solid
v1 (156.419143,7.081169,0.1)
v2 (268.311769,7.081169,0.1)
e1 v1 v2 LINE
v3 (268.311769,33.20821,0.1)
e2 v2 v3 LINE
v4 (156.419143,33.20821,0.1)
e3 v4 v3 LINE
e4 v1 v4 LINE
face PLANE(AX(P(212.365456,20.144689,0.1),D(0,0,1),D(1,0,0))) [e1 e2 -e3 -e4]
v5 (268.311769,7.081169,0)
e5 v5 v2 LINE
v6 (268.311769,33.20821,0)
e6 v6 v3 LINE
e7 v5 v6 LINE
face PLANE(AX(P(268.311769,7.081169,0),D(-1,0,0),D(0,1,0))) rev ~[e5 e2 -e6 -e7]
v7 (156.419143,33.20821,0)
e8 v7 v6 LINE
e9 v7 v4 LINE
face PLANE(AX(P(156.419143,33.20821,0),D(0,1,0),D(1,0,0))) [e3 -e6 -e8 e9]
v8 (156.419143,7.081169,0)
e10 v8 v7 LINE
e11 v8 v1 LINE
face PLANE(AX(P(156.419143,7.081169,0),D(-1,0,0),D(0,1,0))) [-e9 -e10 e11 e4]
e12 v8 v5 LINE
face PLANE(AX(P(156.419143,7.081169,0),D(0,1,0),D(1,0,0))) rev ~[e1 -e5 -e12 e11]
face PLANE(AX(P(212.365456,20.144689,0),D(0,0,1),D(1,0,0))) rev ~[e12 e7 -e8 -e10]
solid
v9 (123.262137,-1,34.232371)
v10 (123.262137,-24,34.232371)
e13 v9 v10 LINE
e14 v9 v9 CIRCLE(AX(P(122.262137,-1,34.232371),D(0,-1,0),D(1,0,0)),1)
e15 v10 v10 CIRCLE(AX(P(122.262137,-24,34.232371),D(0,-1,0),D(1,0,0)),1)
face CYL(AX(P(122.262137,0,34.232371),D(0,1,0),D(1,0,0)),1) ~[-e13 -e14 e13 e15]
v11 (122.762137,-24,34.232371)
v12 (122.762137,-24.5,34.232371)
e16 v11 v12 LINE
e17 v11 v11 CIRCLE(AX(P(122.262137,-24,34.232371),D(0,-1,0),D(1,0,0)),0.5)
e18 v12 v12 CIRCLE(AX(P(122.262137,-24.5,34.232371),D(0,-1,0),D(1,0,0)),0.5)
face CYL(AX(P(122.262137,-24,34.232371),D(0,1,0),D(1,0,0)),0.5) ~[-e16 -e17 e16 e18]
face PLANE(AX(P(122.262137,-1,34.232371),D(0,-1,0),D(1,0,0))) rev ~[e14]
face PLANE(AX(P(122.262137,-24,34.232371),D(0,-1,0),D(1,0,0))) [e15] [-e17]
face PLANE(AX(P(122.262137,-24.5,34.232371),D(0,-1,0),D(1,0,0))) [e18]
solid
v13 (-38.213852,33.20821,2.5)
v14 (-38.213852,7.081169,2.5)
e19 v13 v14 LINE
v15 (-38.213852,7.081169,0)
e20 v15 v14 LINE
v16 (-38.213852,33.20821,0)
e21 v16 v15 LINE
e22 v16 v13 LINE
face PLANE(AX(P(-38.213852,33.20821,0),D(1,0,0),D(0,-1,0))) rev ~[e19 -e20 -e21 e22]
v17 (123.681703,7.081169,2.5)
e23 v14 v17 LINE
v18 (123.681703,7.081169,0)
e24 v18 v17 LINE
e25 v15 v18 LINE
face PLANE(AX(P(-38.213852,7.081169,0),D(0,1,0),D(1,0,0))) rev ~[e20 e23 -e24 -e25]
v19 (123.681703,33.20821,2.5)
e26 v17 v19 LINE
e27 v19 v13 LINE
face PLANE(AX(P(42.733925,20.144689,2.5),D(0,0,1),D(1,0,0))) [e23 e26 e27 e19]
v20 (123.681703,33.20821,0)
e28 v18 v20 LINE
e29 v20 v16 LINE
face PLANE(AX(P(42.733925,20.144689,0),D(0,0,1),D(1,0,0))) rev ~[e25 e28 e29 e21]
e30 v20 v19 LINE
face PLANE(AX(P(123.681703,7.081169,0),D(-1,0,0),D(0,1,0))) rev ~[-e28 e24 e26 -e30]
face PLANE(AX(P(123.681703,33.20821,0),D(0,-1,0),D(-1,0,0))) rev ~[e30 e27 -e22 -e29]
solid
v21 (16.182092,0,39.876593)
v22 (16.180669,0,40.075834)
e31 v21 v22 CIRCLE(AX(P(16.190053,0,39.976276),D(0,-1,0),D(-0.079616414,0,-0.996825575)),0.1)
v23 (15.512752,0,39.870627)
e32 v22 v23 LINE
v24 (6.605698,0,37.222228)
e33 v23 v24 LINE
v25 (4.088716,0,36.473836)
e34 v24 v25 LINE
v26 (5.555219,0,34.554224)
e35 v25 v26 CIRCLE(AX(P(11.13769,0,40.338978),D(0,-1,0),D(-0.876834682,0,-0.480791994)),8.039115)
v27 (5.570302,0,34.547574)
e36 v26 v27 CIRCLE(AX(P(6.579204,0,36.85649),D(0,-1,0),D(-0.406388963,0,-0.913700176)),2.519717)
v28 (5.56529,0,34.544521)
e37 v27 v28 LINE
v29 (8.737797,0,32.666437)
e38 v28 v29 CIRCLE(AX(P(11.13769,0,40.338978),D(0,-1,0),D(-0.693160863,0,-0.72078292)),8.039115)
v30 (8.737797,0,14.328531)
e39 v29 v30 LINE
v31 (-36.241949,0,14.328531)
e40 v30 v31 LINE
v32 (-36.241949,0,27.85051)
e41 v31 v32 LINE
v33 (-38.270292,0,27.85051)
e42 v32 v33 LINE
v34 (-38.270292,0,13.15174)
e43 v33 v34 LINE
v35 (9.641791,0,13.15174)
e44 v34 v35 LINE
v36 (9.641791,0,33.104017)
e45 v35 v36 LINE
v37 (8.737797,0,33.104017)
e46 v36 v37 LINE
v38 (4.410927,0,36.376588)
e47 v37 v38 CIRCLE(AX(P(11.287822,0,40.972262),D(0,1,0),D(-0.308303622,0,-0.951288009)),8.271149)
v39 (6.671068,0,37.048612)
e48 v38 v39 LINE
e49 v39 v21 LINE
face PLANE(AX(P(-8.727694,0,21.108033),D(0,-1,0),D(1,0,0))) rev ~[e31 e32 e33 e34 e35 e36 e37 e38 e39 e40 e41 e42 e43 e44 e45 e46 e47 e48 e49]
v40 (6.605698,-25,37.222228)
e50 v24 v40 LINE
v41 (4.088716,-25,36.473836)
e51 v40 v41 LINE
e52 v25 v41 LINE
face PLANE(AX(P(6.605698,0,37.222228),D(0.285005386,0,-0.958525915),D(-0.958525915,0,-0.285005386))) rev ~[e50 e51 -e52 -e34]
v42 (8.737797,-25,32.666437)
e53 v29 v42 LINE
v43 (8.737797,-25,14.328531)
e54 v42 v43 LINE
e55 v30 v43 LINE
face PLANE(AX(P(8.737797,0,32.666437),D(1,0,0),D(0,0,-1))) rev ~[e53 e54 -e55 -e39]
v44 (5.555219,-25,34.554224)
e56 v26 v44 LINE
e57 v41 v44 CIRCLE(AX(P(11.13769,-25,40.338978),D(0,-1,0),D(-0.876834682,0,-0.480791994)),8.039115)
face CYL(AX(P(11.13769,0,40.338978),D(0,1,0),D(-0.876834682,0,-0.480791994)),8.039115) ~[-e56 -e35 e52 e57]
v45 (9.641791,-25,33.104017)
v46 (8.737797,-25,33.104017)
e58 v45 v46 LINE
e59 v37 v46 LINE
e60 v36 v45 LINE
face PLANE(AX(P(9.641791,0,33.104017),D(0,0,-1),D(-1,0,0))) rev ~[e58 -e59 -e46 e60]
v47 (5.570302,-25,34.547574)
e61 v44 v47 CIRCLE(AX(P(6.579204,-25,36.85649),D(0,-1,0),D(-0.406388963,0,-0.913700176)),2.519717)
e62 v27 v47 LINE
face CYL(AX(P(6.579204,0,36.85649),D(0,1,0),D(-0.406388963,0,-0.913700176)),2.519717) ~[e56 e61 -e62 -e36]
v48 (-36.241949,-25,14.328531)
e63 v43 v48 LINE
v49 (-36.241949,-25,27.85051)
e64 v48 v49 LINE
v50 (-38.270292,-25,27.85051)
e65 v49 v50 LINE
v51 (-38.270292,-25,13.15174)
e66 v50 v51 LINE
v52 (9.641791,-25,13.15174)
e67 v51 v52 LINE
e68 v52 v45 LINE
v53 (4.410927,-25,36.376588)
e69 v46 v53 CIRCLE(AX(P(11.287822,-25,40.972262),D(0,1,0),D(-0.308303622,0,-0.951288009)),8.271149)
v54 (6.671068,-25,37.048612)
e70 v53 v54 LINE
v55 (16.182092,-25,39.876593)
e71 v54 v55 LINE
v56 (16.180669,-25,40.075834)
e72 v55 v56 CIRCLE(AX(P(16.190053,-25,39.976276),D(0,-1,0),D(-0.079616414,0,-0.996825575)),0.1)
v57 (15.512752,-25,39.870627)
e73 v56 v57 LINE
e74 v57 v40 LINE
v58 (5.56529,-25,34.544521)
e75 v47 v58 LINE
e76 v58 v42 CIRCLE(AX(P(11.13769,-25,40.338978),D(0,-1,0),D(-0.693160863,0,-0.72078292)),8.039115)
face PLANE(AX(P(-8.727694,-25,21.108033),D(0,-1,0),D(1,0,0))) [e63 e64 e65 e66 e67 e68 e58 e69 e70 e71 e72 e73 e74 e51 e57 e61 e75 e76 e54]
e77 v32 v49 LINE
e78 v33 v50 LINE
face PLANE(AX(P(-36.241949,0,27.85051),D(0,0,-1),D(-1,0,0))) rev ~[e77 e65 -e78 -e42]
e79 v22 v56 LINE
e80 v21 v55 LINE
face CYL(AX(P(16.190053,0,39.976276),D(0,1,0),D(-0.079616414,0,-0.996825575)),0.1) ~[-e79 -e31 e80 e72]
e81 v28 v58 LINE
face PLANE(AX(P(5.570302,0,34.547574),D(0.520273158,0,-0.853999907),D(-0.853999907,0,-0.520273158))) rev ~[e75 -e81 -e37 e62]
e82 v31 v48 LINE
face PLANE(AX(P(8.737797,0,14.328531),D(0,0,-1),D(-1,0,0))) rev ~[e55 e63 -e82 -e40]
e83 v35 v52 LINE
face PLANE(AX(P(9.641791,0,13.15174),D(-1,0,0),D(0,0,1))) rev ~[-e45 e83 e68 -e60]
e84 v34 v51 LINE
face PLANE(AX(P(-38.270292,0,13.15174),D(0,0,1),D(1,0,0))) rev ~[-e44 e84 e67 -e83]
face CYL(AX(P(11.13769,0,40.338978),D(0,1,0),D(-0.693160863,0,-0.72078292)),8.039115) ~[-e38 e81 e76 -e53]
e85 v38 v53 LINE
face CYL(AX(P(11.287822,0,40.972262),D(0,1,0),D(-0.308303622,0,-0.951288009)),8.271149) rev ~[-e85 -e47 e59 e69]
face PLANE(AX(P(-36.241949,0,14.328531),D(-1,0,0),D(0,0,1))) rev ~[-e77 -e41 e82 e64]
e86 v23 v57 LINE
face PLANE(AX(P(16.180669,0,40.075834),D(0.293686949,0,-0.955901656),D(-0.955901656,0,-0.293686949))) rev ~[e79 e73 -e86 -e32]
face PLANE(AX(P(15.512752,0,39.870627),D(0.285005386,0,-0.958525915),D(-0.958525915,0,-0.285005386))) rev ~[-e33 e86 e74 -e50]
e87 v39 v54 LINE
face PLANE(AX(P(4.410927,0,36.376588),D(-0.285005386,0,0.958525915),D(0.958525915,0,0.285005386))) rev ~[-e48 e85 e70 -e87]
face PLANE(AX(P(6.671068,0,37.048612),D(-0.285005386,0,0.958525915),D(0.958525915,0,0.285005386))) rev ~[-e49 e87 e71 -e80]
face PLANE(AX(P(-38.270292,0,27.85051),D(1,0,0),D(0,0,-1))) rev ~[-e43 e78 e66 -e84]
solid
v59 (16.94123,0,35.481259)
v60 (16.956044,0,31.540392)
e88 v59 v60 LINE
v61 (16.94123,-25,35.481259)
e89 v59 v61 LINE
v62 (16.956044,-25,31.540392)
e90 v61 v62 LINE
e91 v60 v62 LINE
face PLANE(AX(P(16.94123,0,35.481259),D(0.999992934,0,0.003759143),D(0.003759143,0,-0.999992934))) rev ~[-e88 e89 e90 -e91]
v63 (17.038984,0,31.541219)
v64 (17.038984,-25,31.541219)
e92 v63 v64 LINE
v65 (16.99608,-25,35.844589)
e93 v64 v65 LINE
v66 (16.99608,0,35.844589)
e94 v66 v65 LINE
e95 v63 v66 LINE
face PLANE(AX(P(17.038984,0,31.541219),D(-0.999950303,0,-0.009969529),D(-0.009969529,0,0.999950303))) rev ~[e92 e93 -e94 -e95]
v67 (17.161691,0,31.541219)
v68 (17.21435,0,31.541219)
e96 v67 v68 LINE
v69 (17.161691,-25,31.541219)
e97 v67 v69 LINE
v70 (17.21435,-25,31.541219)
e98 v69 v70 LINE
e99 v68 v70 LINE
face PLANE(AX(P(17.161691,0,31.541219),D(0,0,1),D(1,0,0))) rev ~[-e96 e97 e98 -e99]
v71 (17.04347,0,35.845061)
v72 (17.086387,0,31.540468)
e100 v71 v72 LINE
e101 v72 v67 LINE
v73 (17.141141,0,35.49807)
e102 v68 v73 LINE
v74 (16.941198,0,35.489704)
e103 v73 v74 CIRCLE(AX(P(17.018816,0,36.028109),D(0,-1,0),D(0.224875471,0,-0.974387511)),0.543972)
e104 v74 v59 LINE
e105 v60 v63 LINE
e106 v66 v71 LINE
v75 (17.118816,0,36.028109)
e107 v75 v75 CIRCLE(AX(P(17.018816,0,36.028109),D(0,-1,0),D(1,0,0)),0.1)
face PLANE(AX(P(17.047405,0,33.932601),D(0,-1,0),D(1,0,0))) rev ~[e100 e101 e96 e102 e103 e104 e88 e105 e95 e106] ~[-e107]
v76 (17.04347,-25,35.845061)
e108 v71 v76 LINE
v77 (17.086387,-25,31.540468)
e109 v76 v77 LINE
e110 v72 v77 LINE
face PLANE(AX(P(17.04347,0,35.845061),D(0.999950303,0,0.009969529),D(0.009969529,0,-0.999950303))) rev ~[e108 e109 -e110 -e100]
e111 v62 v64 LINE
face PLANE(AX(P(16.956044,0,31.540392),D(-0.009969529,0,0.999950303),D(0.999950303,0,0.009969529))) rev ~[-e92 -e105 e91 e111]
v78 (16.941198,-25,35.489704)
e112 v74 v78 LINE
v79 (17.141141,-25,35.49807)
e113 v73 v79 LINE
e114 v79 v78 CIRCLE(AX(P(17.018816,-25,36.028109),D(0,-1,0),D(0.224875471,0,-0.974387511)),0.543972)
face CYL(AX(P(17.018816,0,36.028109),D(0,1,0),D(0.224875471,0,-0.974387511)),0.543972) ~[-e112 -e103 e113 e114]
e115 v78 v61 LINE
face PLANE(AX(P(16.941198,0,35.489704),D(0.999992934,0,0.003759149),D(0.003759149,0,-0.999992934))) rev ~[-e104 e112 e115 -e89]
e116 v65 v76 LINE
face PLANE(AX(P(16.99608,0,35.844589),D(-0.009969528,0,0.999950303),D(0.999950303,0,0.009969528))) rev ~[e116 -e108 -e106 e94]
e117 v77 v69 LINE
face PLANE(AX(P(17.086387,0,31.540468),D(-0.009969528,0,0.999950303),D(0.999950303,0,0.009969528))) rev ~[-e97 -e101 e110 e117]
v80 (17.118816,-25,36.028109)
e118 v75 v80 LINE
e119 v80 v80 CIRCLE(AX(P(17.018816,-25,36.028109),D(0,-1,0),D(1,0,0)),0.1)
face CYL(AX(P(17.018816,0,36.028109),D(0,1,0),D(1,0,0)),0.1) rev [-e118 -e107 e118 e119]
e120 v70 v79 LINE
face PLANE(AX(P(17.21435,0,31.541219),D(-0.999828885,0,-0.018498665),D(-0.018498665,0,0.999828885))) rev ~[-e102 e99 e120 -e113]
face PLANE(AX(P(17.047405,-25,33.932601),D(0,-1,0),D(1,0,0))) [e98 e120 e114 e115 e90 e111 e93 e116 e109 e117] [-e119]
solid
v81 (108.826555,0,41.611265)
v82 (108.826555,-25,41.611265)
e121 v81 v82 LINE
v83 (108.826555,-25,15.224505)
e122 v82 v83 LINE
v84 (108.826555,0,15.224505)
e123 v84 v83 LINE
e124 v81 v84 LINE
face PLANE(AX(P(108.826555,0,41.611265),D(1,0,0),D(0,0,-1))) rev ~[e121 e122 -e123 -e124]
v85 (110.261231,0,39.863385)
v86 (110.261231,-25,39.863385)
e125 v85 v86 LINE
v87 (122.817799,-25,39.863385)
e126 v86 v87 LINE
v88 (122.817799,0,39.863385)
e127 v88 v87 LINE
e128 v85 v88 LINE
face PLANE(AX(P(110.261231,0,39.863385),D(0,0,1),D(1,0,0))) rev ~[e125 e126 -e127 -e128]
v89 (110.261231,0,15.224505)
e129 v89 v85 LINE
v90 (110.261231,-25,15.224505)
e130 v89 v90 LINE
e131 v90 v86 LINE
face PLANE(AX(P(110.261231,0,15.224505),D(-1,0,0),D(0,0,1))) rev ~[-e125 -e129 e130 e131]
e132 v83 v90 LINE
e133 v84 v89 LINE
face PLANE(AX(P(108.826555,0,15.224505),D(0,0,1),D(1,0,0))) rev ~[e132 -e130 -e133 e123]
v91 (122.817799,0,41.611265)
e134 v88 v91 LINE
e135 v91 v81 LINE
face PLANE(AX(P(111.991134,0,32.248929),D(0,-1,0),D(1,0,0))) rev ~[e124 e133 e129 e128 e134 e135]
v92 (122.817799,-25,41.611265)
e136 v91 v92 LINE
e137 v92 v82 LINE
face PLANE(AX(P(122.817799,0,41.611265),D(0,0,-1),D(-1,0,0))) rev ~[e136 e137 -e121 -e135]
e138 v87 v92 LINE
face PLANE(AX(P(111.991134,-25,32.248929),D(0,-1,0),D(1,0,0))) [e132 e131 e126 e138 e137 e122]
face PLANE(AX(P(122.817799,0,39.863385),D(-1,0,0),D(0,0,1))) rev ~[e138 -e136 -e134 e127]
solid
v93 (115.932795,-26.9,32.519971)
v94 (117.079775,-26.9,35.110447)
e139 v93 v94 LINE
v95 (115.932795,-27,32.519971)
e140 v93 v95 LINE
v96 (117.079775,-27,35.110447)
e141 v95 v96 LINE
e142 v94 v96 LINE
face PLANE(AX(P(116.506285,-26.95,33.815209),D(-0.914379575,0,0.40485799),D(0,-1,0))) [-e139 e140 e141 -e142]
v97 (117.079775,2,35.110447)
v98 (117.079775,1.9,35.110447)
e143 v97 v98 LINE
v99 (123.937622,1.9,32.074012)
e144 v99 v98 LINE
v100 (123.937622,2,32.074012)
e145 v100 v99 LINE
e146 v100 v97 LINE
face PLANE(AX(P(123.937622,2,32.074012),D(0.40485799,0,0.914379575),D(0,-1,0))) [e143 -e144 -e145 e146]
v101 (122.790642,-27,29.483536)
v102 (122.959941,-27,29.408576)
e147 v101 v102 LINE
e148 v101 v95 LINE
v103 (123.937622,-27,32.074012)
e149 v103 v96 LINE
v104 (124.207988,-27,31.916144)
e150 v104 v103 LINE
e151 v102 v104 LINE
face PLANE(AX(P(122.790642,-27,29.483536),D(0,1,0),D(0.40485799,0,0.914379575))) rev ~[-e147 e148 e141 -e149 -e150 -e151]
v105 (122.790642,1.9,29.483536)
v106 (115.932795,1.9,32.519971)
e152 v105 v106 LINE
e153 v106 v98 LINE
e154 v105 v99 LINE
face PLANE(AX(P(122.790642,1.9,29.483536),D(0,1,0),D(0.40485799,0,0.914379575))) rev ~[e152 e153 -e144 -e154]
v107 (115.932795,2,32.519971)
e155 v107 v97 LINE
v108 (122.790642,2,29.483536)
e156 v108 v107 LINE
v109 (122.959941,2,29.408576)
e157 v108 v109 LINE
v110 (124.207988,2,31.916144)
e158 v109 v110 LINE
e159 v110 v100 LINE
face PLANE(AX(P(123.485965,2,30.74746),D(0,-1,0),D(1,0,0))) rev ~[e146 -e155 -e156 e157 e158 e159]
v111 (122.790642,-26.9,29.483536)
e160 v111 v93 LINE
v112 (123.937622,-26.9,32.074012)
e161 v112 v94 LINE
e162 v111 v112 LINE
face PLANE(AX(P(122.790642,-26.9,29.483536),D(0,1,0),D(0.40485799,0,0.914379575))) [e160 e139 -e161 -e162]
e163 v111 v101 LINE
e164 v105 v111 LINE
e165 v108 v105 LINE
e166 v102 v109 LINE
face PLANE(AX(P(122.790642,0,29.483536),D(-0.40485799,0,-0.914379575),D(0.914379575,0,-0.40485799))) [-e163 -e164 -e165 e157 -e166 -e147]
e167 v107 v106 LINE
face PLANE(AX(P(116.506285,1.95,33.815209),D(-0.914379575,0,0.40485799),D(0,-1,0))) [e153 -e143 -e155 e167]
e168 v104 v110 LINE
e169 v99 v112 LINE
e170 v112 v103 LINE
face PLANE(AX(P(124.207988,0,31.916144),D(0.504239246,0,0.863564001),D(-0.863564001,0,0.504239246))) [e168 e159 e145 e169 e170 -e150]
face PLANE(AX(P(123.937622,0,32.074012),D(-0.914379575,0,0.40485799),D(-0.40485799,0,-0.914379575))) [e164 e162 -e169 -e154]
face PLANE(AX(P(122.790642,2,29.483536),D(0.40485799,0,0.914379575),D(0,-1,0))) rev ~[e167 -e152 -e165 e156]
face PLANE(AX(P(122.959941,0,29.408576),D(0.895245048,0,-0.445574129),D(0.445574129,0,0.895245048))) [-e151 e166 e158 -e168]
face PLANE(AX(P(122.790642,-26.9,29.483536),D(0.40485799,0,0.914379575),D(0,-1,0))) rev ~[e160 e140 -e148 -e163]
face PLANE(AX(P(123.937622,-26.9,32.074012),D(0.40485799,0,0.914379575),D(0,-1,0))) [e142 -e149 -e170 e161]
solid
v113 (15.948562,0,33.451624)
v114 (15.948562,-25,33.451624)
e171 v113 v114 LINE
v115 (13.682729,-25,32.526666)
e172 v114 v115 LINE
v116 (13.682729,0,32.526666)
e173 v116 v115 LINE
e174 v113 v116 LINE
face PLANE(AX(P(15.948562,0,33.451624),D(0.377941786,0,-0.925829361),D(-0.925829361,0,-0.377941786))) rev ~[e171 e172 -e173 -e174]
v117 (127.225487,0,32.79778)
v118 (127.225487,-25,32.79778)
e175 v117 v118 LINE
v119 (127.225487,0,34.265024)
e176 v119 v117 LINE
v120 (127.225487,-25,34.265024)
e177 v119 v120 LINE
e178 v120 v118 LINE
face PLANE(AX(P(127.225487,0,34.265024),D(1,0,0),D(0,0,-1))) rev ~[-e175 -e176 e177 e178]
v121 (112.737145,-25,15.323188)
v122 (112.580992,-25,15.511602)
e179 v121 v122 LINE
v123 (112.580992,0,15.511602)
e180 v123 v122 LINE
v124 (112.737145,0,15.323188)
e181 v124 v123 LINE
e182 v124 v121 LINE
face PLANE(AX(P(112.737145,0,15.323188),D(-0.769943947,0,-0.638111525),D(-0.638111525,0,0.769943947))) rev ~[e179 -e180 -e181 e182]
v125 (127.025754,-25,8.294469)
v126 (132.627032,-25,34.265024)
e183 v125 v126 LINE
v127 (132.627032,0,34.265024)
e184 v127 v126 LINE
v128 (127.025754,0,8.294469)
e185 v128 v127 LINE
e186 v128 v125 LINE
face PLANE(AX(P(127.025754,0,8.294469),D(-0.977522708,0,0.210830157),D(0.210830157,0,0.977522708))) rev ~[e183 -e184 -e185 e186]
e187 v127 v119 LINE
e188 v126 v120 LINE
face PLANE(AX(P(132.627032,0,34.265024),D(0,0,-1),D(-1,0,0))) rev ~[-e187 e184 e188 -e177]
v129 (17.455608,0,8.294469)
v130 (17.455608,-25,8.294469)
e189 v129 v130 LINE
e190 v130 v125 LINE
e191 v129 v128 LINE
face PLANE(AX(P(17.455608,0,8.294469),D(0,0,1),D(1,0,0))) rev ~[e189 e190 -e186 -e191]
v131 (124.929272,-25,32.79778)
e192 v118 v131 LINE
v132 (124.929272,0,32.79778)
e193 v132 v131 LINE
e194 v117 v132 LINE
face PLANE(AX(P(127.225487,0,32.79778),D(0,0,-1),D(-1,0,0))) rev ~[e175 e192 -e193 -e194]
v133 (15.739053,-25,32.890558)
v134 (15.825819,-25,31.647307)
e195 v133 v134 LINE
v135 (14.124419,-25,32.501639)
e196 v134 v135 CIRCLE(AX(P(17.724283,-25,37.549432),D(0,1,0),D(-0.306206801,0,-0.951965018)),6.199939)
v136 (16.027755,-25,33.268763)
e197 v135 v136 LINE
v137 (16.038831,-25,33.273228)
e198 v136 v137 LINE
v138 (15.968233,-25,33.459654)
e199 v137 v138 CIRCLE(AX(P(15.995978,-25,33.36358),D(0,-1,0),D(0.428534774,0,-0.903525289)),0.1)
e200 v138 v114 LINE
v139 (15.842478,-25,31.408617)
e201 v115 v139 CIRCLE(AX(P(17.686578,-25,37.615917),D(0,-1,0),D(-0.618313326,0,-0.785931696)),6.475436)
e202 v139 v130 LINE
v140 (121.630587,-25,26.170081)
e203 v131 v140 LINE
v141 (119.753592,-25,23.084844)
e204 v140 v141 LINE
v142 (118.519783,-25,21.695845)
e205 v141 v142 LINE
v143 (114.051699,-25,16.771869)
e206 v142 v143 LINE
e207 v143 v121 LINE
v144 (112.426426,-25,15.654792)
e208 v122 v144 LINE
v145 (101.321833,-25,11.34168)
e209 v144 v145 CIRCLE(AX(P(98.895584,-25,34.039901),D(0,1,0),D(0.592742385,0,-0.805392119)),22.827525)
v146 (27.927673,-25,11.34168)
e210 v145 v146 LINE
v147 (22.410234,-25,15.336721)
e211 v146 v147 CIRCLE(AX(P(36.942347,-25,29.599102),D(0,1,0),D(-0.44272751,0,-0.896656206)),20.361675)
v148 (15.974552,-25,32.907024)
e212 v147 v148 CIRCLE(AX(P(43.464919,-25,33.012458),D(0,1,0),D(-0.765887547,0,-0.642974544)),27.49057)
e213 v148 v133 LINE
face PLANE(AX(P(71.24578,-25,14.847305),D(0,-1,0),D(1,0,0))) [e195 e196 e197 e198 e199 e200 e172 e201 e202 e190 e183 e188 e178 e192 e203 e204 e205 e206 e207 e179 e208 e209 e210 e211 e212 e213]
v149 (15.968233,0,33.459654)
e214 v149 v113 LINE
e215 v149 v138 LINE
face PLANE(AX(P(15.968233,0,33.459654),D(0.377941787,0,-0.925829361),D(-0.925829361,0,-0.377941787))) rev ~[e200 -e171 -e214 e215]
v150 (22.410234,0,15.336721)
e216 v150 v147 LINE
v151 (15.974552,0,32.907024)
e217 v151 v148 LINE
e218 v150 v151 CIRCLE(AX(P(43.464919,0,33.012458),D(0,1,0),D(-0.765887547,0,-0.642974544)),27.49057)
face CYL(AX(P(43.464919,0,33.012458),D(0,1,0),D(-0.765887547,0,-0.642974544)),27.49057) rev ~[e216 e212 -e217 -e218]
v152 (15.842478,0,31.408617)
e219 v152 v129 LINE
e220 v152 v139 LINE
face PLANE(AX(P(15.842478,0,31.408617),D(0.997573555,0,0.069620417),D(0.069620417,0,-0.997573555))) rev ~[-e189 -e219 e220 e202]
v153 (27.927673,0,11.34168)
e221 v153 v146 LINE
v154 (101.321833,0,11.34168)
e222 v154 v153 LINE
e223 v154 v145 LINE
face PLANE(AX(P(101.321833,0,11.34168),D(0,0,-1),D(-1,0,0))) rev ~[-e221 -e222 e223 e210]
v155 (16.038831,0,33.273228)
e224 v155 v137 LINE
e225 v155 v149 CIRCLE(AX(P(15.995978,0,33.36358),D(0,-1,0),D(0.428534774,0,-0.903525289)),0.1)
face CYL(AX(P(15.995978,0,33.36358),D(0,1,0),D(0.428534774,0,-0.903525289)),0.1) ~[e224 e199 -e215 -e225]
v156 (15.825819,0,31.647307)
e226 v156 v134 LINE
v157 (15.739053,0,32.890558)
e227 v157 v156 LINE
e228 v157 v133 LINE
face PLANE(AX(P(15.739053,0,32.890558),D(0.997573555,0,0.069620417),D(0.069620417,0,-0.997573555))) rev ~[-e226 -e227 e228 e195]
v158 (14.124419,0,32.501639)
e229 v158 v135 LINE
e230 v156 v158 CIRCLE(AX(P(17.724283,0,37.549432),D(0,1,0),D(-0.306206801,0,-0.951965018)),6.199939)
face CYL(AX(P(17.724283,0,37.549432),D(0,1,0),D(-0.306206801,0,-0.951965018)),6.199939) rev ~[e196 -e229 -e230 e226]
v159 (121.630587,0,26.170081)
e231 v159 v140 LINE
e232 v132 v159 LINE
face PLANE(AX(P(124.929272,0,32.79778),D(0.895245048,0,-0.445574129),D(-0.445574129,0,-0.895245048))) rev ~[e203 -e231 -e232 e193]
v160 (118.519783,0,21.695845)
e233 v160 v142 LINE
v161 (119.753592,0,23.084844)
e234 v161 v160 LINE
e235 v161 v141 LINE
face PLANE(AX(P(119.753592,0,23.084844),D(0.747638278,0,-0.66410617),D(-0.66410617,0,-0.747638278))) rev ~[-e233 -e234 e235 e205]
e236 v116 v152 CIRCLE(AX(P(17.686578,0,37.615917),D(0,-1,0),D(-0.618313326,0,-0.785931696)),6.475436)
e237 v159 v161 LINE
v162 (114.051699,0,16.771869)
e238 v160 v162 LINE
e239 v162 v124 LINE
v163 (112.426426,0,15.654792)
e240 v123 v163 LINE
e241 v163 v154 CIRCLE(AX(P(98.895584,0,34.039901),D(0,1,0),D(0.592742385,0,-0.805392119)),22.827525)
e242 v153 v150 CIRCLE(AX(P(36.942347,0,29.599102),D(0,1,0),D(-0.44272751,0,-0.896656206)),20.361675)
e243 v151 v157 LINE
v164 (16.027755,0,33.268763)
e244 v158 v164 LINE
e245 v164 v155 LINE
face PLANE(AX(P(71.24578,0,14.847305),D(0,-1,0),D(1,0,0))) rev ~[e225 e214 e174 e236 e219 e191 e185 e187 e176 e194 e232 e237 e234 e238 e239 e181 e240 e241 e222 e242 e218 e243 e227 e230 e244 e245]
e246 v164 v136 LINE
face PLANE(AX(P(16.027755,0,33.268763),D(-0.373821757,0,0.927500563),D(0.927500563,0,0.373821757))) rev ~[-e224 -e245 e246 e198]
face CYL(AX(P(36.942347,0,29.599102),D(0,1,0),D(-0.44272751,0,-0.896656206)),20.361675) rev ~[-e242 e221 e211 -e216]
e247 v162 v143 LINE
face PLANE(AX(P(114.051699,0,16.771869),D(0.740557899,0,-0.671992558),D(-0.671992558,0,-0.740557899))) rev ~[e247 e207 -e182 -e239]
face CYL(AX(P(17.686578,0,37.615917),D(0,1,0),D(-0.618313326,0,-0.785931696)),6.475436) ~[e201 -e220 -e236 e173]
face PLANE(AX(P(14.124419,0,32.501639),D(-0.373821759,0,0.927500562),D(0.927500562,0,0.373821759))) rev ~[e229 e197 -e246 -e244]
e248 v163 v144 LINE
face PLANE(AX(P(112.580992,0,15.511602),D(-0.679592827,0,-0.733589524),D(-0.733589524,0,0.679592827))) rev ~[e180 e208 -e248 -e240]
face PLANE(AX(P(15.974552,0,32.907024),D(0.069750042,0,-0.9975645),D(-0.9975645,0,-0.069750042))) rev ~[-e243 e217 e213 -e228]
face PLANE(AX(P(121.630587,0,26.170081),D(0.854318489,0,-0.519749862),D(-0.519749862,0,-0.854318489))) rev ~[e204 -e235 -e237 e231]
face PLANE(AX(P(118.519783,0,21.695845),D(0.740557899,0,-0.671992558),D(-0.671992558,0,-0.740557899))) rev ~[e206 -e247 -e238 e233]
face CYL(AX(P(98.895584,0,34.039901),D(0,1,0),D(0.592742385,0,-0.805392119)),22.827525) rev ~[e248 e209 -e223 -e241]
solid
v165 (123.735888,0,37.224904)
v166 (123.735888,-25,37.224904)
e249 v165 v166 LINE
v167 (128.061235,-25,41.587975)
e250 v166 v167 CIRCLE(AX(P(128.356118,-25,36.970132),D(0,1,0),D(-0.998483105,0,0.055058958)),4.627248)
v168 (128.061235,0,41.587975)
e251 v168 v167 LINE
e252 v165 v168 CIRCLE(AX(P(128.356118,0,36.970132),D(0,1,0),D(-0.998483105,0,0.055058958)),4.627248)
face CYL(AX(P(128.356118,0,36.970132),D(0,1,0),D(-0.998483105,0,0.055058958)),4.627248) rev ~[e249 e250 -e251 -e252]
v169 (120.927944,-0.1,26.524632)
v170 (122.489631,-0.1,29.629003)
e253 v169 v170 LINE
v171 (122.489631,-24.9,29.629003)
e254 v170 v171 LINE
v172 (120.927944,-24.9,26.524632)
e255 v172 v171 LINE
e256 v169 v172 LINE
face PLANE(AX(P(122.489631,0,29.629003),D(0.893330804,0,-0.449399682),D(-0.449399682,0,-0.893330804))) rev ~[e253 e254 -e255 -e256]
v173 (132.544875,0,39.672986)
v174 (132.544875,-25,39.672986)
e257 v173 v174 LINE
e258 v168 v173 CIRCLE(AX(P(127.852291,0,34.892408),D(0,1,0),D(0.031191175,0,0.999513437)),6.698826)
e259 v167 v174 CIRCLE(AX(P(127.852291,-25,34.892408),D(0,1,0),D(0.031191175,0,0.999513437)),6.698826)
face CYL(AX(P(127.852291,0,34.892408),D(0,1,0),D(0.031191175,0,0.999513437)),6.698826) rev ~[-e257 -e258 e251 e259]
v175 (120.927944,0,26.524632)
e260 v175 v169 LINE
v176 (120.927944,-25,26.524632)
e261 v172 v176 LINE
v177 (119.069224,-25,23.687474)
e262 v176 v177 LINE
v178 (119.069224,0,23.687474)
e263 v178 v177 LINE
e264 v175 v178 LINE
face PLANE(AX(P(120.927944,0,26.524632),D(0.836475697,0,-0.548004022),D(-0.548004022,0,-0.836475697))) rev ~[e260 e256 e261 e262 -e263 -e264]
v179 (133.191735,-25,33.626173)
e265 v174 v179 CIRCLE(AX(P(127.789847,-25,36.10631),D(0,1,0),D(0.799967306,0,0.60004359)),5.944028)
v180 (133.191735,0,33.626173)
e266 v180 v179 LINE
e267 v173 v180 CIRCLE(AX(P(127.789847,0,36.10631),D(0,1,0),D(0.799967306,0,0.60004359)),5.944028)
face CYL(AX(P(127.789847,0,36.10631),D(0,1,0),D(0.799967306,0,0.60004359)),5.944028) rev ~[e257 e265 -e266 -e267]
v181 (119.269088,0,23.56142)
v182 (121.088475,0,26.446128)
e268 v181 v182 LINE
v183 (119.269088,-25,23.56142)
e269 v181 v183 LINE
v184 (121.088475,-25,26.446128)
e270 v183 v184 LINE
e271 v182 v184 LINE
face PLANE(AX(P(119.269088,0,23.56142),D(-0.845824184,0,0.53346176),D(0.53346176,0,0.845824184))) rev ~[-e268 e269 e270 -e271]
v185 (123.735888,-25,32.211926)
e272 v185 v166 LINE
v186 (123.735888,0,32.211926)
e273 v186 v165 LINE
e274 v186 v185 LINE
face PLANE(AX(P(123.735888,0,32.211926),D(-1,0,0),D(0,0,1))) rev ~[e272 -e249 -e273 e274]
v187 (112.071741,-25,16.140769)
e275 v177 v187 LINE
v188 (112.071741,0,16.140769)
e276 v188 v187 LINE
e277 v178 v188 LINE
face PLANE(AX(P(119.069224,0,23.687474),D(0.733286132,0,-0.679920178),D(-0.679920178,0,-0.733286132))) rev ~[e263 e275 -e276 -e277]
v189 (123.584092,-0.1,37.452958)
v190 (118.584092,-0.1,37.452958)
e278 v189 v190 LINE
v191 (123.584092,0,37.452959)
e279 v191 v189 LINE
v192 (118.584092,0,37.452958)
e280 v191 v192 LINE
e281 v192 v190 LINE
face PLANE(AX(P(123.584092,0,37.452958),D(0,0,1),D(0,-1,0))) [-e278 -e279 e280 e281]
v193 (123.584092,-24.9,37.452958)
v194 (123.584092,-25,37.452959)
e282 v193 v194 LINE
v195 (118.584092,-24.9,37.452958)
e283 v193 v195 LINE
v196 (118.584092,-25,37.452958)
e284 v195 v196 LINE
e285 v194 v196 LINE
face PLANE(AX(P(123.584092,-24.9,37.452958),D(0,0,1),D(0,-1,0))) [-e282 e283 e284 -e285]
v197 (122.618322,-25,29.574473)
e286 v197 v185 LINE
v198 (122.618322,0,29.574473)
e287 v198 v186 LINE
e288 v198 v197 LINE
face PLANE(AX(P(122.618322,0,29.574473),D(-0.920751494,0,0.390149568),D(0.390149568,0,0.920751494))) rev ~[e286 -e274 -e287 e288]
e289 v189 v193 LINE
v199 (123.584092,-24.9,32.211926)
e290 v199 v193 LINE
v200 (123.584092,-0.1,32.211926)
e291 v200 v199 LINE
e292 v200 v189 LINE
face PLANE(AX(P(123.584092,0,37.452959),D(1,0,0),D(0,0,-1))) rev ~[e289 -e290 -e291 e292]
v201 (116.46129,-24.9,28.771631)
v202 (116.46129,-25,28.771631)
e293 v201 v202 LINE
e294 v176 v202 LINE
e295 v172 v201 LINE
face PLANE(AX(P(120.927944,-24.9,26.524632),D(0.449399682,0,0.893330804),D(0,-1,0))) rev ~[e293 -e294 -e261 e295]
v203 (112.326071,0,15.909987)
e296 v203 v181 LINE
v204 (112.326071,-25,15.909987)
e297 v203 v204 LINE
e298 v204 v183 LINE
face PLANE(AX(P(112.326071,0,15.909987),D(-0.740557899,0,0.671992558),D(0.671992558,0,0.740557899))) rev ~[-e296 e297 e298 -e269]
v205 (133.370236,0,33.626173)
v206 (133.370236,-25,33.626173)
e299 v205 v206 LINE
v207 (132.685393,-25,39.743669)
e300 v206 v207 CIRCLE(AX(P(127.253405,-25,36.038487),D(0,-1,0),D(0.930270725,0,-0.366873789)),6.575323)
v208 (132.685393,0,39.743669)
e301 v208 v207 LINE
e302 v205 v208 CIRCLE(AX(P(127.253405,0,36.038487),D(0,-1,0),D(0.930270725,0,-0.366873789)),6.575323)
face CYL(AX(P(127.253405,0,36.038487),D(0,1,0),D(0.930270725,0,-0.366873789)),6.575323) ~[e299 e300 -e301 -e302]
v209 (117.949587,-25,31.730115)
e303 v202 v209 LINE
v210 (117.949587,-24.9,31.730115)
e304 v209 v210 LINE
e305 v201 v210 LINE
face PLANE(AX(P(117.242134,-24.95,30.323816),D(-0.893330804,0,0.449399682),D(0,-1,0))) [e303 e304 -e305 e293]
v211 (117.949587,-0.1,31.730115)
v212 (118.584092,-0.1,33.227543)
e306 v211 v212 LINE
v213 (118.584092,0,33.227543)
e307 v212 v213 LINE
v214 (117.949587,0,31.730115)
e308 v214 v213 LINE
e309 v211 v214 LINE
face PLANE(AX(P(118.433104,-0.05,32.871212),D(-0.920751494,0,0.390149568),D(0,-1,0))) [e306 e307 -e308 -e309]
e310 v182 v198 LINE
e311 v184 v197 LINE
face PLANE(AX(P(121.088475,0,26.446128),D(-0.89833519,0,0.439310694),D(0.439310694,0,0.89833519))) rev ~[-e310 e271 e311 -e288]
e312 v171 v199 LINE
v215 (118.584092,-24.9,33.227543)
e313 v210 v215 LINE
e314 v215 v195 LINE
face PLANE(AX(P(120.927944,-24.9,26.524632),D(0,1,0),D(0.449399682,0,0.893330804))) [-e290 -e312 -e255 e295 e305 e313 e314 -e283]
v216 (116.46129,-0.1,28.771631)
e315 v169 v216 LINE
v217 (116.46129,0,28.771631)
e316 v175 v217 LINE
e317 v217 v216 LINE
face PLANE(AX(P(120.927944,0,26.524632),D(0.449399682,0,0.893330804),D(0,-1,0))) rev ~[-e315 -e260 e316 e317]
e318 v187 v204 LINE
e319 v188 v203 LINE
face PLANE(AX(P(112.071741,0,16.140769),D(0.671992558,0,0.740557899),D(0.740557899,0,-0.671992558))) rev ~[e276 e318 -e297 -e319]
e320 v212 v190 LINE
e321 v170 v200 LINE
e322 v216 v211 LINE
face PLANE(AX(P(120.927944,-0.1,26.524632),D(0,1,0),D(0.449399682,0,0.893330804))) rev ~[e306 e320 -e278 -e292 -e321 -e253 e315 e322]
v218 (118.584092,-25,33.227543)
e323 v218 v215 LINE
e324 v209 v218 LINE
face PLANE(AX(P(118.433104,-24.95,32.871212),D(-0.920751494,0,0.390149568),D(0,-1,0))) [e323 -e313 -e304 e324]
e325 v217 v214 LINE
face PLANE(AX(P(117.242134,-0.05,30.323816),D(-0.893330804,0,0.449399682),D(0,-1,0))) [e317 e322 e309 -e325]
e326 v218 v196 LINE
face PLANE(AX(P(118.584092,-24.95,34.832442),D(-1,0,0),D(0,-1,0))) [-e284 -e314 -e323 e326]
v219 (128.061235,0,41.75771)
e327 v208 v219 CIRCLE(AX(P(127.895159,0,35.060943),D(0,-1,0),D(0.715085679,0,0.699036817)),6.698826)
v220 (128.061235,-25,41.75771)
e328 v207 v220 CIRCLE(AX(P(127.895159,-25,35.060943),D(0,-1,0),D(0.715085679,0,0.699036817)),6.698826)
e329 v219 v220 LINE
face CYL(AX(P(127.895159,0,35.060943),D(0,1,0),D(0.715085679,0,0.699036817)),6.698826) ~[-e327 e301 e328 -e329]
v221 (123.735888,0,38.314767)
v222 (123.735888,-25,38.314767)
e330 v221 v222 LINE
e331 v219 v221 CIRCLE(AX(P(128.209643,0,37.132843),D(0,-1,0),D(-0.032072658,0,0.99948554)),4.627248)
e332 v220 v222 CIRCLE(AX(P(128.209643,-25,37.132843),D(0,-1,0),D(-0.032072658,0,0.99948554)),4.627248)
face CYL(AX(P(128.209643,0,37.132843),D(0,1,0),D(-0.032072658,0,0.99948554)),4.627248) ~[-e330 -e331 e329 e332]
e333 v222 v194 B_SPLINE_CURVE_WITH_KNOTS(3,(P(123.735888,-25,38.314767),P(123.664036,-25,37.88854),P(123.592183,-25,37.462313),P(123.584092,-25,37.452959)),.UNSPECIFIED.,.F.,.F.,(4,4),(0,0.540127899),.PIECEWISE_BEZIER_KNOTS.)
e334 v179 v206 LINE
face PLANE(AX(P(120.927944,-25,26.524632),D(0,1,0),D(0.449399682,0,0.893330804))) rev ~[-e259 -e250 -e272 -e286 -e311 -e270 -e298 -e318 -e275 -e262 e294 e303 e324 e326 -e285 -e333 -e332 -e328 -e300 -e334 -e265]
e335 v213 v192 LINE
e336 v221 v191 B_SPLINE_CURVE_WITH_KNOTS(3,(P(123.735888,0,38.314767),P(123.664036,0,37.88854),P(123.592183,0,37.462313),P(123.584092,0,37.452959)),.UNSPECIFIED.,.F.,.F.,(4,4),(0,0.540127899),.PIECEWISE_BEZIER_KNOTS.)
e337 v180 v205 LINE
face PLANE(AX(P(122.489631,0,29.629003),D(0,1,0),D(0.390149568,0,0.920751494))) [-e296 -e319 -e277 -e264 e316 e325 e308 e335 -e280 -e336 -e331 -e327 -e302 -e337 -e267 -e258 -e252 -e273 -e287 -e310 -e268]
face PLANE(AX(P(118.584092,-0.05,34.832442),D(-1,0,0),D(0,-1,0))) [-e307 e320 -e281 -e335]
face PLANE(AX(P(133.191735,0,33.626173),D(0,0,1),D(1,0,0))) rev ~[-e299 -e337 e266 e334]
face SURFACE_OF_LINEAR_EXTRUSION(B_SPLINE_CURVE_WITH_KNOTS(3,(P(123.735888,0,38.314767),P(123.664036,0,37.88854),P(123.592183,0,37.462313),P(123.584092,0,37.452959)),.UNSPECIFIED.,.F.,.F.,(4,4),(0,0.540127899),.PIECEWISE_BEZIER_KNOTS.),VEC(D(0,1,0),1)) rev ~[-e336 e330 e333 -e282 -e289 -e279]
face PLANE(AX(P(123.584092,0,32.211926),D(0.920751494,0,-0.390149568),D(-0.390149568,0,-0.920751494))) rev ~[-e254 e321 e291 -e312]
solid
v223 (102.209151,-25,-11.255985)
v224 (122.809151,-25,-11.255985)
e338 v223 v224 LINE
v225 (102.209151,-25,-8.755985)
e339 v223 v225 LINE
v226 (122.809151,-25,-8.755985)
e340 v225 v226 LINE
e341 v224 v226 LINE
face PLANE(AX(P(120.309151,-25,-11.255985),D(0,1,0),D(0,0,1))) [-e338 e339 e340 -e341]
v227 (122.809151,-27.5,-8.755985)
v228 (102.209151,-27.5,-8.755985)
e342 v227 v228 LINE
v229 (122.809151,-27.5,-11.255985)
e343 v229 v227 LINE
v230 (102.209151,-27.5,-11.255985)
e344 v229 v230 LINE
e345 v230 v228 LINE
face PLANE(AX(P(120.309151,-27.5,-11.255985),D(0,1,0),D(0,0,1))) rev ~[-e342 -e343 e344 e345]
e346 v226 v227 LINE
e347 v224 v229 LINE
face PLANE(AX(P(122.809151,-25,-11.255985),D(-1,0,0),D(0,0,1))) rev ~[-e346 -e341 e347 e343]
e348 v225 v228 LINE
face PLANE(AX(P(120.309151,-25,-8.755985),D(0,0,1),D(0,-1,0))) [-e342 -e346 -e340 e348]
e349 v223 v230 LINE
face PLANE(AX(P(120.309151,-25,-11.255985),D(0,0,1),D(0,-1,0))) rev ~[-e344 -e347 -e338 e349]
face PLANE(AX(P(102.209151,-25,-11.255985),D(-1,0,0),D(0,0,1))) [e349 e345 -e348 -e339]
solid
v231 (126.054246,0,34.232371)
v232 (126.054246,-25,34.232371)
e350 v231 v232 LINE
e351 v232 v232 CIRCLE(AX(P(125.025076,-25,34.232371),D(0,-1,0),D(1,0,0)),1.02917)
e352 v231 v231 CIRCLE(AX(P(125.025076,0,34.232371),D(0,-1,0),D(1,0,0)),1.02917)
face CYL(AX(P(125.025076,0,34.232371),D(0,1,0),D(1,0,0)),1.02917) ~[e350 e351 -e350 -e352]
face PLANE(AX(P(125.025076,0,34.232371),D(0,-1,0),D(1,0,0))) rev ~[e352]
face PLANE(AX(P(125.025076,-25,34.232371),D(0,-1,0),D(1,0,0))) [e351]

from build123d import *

# Parameters (mm, degrees)
F1_DEPTH  = 25
F0_R      = 0.1
F2_DEPTH  = 25
F3_DEPTH  = 25
F5_DEPTH  = 2.5
F4_W      = 111.8926256895
F4_H      = 26.1270403862
F7_DEPTH  = 0.1
F0_R_2    = 1
F9_DEPTH  = 24
F0_R_3    = 1.029169814
F10_DEPTH = 25
F11_DEPTH = 25
F12_W     = 2.5
F12_H     = 2.5
F13_DEPTH = 2.5
F14_DEPTH = 18.1
F15_DEPTH = 25
F16_DEPTH = 1
F17_W     = 0.1
F17_H     = 5.2410326541
F18_DEPTH = 5
F19_DEPTH = 5
F20_W     = 0.1
F20_H     = 2.80523311
F21_DEPTH = 5
F22_W     = 0.1
F22_H     = 3.4750518822
F23_DEPTH = 5
F24_R     = 0.5
F25_DEPTH = 0.5
F26_DEPTH = 27
F27_DEPTH = 2
F28_W     = 0.1
F28_H     = 2.8330418504
F29_DEPTH = 7.5


with BuildPart() as f1:
    # F0 (on Front) → F1 (new body)
    with BuildSketch(Plane.XZ):
        with BuildLine():
            Line((-36.2419492344, 19.3617755631), (-36.2419492344, 27.8505100084))
            Line((-36.2419492344, 27.8505100084), (-38.2702921091, 27.8505100084))
            Line((-38.2702921091, 27.8505100084), (-38.2702921091, 17.8051125258))
            Line((-38.2702921091, 17.8051125258), (-38.2702921091, 13.151739724))
            Line((-38.2702921091, 13.151739724), (-36.2419492344, 13.151739724))
            Line((-36.2419492344, 13.151739724), (2.6482119562, 13.151739724))
            Line((2.6482119562, 13.151739724), (4.0816886356, 13.151739724))
            Line((4.0816886356, 13.151739724), (5.2144867368, 13.151739724))
            Line((5.2144867368, 13.151739724), (9.6417907625, 13.151739724))
            Line((9.6417907625, 13.151739724), (9.6417907625, 33.1040173769))
            Line((9.6417907625, 33.1040173769), (8.7377969176, 33.1040173769))
            ThreePointArc((8.7377969176, 33.1040173769), (6.2984196882, 34.3754623057), (4.4109269915, 36.3765881873))
            Line((4.4109269915, 36.3765881873), (6.6710681562, 37.0486121721))
            Line((6.6710681562, 37.0486121721), (16.1820917551, 39.8765930424))
            ThreePointArc((16.1820917551, 39.8765930424), (16.2900508454, 39.9769898902), (16.1806685582, 40.07583425))
            Line((16.1806685582, 40.07583425), (15.5127520888, 39.8706265812))
            Line((15.5127520888, 39.8706265812), (6.605698304, 37.222228388))
            Line((6.605698304, 37.222228388), (4.0887155386, 36.4738358477))
            ThreePointArc((4.0887155386, 36.4738358477), (4.7494520955, 35.4586315177), (5.5552186019, 34.5542239954))
            ThreePointArc((5.5552186019, 34.5542239954), (5.5627548213, 34.5508868433), (5.5703019163, 34.5475743601))
            Line((5.5703019163, 34.5475743601), (5.5652904298, 34.5445212662))
            ThreePointArc((5.5652904298, 34.5445212662), (7.0424290401, 33.4211601216), (8.7377969176, 32.6664373279))
            Line((8.7377969176, 32.6664373279), (8.7377969176, 14.3285310603))
            Line((8.7377969176, 14.3285310603), (4.0816886356, 14.3285310603))
            Line((4.0816886356, 14.3285310603), (3.1791766089, 14.3285310603))
            Line((3.1791766089, 14.3285310603), (2.6482119562, 14.3285310603))
            Line((2.6482119562, 14.3285310603), (-36.2419492344, 14.3285310603))
            Line((-36.2419492344, 14.3285310603), (-36.2419492344, 17.8051125258))
            Line((-36.2419492344, 17.8051125258), (-36.2419492344, 19.3617755631))
        make_face()
    extrude(amount=F1_DEPTH)


with BuildPart() as f2:
    # F0 (on Front) → F2 (new body)
    with BuildSketch(Plane.XZ):
        with BuildLine():
            Line((17.0863868074, 31.5404682002), (17.1616906385, 31.5412189812))
            Line((17.1616906385, 31.5412189812), (17.2143504024, 31.5412189812))
            Line((17.2143504024, 31.5412189812), (17.1411414098, 35.4980701954))
            ThreePointArc((17.1411414098, 35.4980701954), (16.9960731361, 36.5716056427), (16.9411982293, 35.4897036577))
            Line((16.9411982293, 35.4897036577), (16.9412299734, 35.4812592268))
            Line((16.9412299734, 35.4812592268), (16.956044361, 31.5403920674))
            Line((16.956044361, 31.5403920674), (17.0389843607, 31.5412189812))
            Line((17.0389843607, 31.5412189812), (16.9960796582, 35.8445889841))
            Line((16.9960796582, 35.8445889841), (17.0434699089, 35.845061466))
            Line((17.0434699089, 35.845061466), (17.0863868074, 31.5404682002))
        make_face()
        with Locations((17.0188155025, 36.0281094909)):
            Circle(F0_R, mode=Mode.SUBTRACT)
    extrude(amount=F2_DEPTH)


with BuildPart() as f3:
    # F0 (on Front) → F3 (new body)
    with BuildSketch(Plane.XZ):
        with BuildLine():
            Line((15.974551759, 32.9070240818), (15.7390532541, 32.8905579479))
            Line((15.7390532541, 32.8905579479), (15.8258194037, 31.647307481))
            ThreePointArc((15.8258194037, 31.647307481), (14.9421305035, 32.0087762715), (14.1244188358, 32.5016387142))
            Line((14.1244188358, 32.5016387142), (16.0277553286, 33.2687634208))
            Line((16.0277553286, 33.2687634208), (16.0388313234, 33.2732275128))
            ThreePointArc((16.0388313234, 33.2732275128), (16.0894967732, 33.3989948726), (15.9682331313, 33.4596541319))
            Line((15.9682331313, 33.4596541319), (15.9485619576, 33.4516239712))
            Line((15.9485619576, 33.4516239712), (13.6827294276, 32.5266664916))
            ThreePointArc((13.6827294276, 32.5266664916), (14.7096441045, 31.8653397654), (15.842477521, 31.4086174833))
            Line((15.842477521, 31.4086174833), (17.45560838, 8.2944686623))
            Line((17.45560838, 8.2944686623), (83.3052264349, 8.2944686623))
            Line((83.3052264349, 8.2944686623), (127.025753987, 8.2944686623))
            Line((127.025753987, 8.2944686623), (132.6270318248, 34.2650240802))
            Line((132.6270318248, 34.2650240802), (127.2254871146, 34.2650240802))
            Line((127.2254871146, 34.2650240802), (127.2254871146, 32.7977798879))
            Line((127.2254871146, 32.7977798879), (124.9292716384, 32.7977798879))
            Line((124.9292716384, 32.7977798879), (121.6305866838, 26.1700805277))
            Line((121.6305866838, 26.1700805277), (119.7535917163, 23.0848435313))
            Line((119.7535917163, 23.0848435313), (118.51978302, 21.6958448291))
            Line((118.51978302, 21.6958448291), (114.0516985243, 16.7718687662))
            Line((114.0516985243, 16.7718687662), (112.7371454729, 15.3231880699))
            Line((112.7371454729, 15.3231880699), (112.5809922814, 15.5116021633))
            Line((112.5809922814, 15.5116021633), (112.4264257385, 15.6547916588))
            ThreePointArc((112.4264257385, 15.6547916588), (107.1604444389, 12.7610850557), (101.3218328068, 11.3416798413))
            Line((101.3218328068, 11.3416798413), (27.9276734218, 11.3416798413))
            ThreePointArc((27.9276734218, 11.3416798413), (25.0007024184, 13.1068332587), (22.4102342692, 15.3367212849))
            ThreePointArc((22.4102342692, 15.3367212849), (17.6514651044, 23.557458802), (15.974551759, 32.9070240818))
        make_face()
    extrude(amount=F3_DEPTH)


with BuildPart() as f5:
    # F4 (on Top) → F5 (new body)
    with BuildSketch(Plane.XY):
        Polygon((62.8758221865, 33.2082095556), (-38.2138518617, 33.2082095556), (-38.2138518617, 7.0811691694), (79.9682810903, 7.0811691694), (123.6817026511, 7.0811691694), (123.6817026511, 33.2082095556), (79.9682810903, 33.2082095556), align=None)
    extrude(amount=F5_DEPTH)


with BuildPart() as f7:
    # F4 (on Top) → F7 (new body)
    with BuildSketch(Plane.XY):
        with Locations((212.3654559255, 20.1446893625)):
            Rectangle(F4_W, F4_H)
    extrude(amount=F7_DEPTH)


with BuildPart() as f9:
    # F0 (on Front) → F9 (new body)
    with BuildSketch(Plane.XZ):
        with Locations((122.2621365883, 34.2323705822)):
            Circle(F0_R_2)
    extrude(amount=F9_DEPTH)

    # F0 (on Front) → F16 (cut)
    with BuildSketch(Plane.XZ):
        with Locations((122.2621365883, 34.2323705822)):
            Circle(F0_R_2)
    extrude(amount=F16_DEPTH, mode=Mode.SUBTRACT)

    # F24 (on face) → F25 (join)
    with BuildSketch(Plane.XZ.offset(24)):
        with Locations((122.2621365883, 34.2323705822)):
            Circle(F24_R)
    extrude(amount=F25_DEPTH)


with BuildPart() as f10:
    # F0 (on Front) → F10 (new body)
    with BuildSketch(Plane.XZ):
        with Locations((125.0250758016, 34.2323705822)):
            Circle(F0_R_3)
    extrude(amount=F10_DEPTH)


with BuildPart() as f11:
    # F0 (on Front) → F11 (new body)
    with BuildSketch(Plane.XZ):
        with BuildLine():
            add(Edge.make_bspline(
                [(123.7358884551, 38.3147671819), (123.6640356194, 37.8885400182), (123.5921827837, 37.4623128546), (123.5840916634, 37.4529585242)],
                knots=[0, 0, 0, 0, 0.5401278987, 0.5401278987, 0.5401278987, 0.5401278987], degree=3))
            Line((123.5840916634, 37.4529585242), (123.5840916634, 32.2119258344))
            Line((123.5840916634, 32.2119258344), (122.489631176, 29.6290032566))
            Line((122.489631176, 29.6290032566), (120.9279439646, 26.5246323641))
            Line((120.9279439646, 26.5246323641), (119.0692239903, 23.6874741994))
            Line((119.0692239903, 23.6874741994), (112.0717409975, 16.1407688561))
            Line((112.0717409975, 16.1407688561), (112.3260706663, 15.9099865705))
            Line((112.3260706663, 15.9099865705), (119.2690879107, 23.5614199191))
            Line((119.2690879107, 23.5614199191), (121.0884749889, 26.4461282641))
            Line((121.0884749889, 26.4461282641), (122.6183219632, 29.5744731739))
            Line((122.6183219632, 29.5744731739), (123.7358884551, 32.2119258344))
            Line((123.7358884551, 32.2119258344), (123.7358884551, 37.2249037027))
            ThreePointArc((123.7358884551, 37.2249037027), (125.069983338, 40.2278534689), (128.061234951, 41.5879748762))
            ThreePointArc((128.061234951, 41.5879748762), (130.483458084, 41.0528650598), (132.544875145, 39.672985673))
            ThreePointArc((132.544875145, 39.672985673), (133.700153354, 36.7385663947), (133.1917345524, 33.6261726916))
            Line((133.1917345524, 33.6261726916), (133.3702355623, 33.6261726916))
            ThreePointArc((133.3702355623, 33.6261726916), (133.7879091067, 36.77001222), (132.685393095, 39.7436693311))
            ThreePointArc((132.685393095, 39.7436693311), (130.5701061838, 41.2025168017), (128.061234951, 41.757710278))
            ThreePointArc((128.061234951, 41.757710278), (125.327879489, 40.7531829972), (123.7358884551, 38.3147671819))
        make_face()
    extrude(amount=F11_DEPTH)

    # F17 (on face) → F18 (join)
    with BuildSketch(Plane(origin=(123.5840916634, 0, 0), x_dir=(0, -1, 0), z_dir=(-1, 0, 0))):
        with Locations((24.95, 34.8324421615)):
            Rectangle(F17_W, F17_H)
    extrude(amount=F18_DEPTH)

    # F17 (on face) → F19 (join)
    with BuildSketch(Plane(origin=(123.5840916634, 0, 0), x_dir=(0, -1, 0), z_dir=(-1, 0, 0))):
        with Locations((0.05, 34.8324421615)):
            Rectangle(F17_W, F17_H)
    extrude(amount=F19_DEPTH)

    # F20 (on face) → F21 (join)
    with BuildSketch(Plane(origin=(93.2010149865, 0, -39.4920192961), x_dir=(0, -1, 0), z_dir=(-0.9207514943, 0, 0.3901495685))):
        with Locations((0.05, 76.4728423241)):
            Rectangle(F20_W, F20_H)
        with Locations((24.95, 76.4728423241)):
            Rectangle(F20_W, F20_H)
    extrude(amount=F21_DEPTH)

    # F22 (on face) → F23 (join)
    with BuildSketch(Plane(origin=(85.8566800835, 0, -43.1911275896), x_dir=(0, -1, 0), z_dir=(-0.8933308042, 0, 0.4493996822))):
        with Locations((24.95, 79.7777766848)):
            Rectangle(F22_W, F22_H)
        with Locations((0.05, 79.7777766848)):
            Rectangle(F22_W, F22_H)
    extrude(amount=F23_DEPTH)


with BuildPart() as f13:
    # F12 (on face) → F13 (new body)
    with BuildSketch(Plane.XZ.offset(25)):
        with Locations((121.5591508434, -10.0059854994)):
            Rectangle(F12_W, F12_H)
    extrude(amount=F13_DEPTH)

    # F14 (add): a face of the model
    f14_faces = [f13.faces().sort_by_distance(p)[0] for p in [
        (120.3091508434, -26.25, -10.0059854994),
    ]]
    extrude(f14_faces, amount=F14_DEPTH)


with BuildPart() as f15:
    # F0 (on Front) → F15 (new body)
    with BuildSketch(Plane.XZ):
        Polygon((110.2612314535, 15.2245052159), (110.2612314535, 39.8633848509), (122.817799449, 39.8633848509), (122.817799449, 41.6112653911), (108.8265553117, 41.6112653911), (108.8265553117, 39.8633848509), (108.8265553117, 15.2245052159), align=None)
    extrude(amount=F15_DEPTH)


with BuildPart() as f26:
    # F0 (on Front) → F26 (new body)
    with BuildSketch(Plane.XZ):
        Polygon((124.2079875145, 31.9161439477), (123.9376217127, 32.0740118623), (122.7906420827, 29.4835362583), (122.9599411014, 29.4085760752), align=None)
    extrude(amount=F26_DEPTH)

    # F27 (add): a face of the model
    f27_faces = [f26.faces().sort_by_distance(p)[0] for p in [
        (123.5247767619, 0, 30.8289974275),
    ]]
    extrude(f27_faces, amount=F27_DEPTH)

    # F28 (on face) → F29 (join)
    with BuildSketch(Plane(origin=(91.7494042817, 0, -40.6236976774), x_dir=(0, -1, 0), z_dir=(-0.9143795753, 0, 0.4048579903))):
        with Locations((26.95, 78.088436868)):
            Rectangle(F28_W, F28_H)
        with Locations((-1.95, 78.088436868)):
            Rectangle(F28_W, F28_H)
    extrude(amount=F29_DEPTH)


solid = Compound([f1.part, f2.part, f3.part, f5.part, f7.part, f9.part, f10.part, f11.part, f13.part, f15.part, f26.part])
